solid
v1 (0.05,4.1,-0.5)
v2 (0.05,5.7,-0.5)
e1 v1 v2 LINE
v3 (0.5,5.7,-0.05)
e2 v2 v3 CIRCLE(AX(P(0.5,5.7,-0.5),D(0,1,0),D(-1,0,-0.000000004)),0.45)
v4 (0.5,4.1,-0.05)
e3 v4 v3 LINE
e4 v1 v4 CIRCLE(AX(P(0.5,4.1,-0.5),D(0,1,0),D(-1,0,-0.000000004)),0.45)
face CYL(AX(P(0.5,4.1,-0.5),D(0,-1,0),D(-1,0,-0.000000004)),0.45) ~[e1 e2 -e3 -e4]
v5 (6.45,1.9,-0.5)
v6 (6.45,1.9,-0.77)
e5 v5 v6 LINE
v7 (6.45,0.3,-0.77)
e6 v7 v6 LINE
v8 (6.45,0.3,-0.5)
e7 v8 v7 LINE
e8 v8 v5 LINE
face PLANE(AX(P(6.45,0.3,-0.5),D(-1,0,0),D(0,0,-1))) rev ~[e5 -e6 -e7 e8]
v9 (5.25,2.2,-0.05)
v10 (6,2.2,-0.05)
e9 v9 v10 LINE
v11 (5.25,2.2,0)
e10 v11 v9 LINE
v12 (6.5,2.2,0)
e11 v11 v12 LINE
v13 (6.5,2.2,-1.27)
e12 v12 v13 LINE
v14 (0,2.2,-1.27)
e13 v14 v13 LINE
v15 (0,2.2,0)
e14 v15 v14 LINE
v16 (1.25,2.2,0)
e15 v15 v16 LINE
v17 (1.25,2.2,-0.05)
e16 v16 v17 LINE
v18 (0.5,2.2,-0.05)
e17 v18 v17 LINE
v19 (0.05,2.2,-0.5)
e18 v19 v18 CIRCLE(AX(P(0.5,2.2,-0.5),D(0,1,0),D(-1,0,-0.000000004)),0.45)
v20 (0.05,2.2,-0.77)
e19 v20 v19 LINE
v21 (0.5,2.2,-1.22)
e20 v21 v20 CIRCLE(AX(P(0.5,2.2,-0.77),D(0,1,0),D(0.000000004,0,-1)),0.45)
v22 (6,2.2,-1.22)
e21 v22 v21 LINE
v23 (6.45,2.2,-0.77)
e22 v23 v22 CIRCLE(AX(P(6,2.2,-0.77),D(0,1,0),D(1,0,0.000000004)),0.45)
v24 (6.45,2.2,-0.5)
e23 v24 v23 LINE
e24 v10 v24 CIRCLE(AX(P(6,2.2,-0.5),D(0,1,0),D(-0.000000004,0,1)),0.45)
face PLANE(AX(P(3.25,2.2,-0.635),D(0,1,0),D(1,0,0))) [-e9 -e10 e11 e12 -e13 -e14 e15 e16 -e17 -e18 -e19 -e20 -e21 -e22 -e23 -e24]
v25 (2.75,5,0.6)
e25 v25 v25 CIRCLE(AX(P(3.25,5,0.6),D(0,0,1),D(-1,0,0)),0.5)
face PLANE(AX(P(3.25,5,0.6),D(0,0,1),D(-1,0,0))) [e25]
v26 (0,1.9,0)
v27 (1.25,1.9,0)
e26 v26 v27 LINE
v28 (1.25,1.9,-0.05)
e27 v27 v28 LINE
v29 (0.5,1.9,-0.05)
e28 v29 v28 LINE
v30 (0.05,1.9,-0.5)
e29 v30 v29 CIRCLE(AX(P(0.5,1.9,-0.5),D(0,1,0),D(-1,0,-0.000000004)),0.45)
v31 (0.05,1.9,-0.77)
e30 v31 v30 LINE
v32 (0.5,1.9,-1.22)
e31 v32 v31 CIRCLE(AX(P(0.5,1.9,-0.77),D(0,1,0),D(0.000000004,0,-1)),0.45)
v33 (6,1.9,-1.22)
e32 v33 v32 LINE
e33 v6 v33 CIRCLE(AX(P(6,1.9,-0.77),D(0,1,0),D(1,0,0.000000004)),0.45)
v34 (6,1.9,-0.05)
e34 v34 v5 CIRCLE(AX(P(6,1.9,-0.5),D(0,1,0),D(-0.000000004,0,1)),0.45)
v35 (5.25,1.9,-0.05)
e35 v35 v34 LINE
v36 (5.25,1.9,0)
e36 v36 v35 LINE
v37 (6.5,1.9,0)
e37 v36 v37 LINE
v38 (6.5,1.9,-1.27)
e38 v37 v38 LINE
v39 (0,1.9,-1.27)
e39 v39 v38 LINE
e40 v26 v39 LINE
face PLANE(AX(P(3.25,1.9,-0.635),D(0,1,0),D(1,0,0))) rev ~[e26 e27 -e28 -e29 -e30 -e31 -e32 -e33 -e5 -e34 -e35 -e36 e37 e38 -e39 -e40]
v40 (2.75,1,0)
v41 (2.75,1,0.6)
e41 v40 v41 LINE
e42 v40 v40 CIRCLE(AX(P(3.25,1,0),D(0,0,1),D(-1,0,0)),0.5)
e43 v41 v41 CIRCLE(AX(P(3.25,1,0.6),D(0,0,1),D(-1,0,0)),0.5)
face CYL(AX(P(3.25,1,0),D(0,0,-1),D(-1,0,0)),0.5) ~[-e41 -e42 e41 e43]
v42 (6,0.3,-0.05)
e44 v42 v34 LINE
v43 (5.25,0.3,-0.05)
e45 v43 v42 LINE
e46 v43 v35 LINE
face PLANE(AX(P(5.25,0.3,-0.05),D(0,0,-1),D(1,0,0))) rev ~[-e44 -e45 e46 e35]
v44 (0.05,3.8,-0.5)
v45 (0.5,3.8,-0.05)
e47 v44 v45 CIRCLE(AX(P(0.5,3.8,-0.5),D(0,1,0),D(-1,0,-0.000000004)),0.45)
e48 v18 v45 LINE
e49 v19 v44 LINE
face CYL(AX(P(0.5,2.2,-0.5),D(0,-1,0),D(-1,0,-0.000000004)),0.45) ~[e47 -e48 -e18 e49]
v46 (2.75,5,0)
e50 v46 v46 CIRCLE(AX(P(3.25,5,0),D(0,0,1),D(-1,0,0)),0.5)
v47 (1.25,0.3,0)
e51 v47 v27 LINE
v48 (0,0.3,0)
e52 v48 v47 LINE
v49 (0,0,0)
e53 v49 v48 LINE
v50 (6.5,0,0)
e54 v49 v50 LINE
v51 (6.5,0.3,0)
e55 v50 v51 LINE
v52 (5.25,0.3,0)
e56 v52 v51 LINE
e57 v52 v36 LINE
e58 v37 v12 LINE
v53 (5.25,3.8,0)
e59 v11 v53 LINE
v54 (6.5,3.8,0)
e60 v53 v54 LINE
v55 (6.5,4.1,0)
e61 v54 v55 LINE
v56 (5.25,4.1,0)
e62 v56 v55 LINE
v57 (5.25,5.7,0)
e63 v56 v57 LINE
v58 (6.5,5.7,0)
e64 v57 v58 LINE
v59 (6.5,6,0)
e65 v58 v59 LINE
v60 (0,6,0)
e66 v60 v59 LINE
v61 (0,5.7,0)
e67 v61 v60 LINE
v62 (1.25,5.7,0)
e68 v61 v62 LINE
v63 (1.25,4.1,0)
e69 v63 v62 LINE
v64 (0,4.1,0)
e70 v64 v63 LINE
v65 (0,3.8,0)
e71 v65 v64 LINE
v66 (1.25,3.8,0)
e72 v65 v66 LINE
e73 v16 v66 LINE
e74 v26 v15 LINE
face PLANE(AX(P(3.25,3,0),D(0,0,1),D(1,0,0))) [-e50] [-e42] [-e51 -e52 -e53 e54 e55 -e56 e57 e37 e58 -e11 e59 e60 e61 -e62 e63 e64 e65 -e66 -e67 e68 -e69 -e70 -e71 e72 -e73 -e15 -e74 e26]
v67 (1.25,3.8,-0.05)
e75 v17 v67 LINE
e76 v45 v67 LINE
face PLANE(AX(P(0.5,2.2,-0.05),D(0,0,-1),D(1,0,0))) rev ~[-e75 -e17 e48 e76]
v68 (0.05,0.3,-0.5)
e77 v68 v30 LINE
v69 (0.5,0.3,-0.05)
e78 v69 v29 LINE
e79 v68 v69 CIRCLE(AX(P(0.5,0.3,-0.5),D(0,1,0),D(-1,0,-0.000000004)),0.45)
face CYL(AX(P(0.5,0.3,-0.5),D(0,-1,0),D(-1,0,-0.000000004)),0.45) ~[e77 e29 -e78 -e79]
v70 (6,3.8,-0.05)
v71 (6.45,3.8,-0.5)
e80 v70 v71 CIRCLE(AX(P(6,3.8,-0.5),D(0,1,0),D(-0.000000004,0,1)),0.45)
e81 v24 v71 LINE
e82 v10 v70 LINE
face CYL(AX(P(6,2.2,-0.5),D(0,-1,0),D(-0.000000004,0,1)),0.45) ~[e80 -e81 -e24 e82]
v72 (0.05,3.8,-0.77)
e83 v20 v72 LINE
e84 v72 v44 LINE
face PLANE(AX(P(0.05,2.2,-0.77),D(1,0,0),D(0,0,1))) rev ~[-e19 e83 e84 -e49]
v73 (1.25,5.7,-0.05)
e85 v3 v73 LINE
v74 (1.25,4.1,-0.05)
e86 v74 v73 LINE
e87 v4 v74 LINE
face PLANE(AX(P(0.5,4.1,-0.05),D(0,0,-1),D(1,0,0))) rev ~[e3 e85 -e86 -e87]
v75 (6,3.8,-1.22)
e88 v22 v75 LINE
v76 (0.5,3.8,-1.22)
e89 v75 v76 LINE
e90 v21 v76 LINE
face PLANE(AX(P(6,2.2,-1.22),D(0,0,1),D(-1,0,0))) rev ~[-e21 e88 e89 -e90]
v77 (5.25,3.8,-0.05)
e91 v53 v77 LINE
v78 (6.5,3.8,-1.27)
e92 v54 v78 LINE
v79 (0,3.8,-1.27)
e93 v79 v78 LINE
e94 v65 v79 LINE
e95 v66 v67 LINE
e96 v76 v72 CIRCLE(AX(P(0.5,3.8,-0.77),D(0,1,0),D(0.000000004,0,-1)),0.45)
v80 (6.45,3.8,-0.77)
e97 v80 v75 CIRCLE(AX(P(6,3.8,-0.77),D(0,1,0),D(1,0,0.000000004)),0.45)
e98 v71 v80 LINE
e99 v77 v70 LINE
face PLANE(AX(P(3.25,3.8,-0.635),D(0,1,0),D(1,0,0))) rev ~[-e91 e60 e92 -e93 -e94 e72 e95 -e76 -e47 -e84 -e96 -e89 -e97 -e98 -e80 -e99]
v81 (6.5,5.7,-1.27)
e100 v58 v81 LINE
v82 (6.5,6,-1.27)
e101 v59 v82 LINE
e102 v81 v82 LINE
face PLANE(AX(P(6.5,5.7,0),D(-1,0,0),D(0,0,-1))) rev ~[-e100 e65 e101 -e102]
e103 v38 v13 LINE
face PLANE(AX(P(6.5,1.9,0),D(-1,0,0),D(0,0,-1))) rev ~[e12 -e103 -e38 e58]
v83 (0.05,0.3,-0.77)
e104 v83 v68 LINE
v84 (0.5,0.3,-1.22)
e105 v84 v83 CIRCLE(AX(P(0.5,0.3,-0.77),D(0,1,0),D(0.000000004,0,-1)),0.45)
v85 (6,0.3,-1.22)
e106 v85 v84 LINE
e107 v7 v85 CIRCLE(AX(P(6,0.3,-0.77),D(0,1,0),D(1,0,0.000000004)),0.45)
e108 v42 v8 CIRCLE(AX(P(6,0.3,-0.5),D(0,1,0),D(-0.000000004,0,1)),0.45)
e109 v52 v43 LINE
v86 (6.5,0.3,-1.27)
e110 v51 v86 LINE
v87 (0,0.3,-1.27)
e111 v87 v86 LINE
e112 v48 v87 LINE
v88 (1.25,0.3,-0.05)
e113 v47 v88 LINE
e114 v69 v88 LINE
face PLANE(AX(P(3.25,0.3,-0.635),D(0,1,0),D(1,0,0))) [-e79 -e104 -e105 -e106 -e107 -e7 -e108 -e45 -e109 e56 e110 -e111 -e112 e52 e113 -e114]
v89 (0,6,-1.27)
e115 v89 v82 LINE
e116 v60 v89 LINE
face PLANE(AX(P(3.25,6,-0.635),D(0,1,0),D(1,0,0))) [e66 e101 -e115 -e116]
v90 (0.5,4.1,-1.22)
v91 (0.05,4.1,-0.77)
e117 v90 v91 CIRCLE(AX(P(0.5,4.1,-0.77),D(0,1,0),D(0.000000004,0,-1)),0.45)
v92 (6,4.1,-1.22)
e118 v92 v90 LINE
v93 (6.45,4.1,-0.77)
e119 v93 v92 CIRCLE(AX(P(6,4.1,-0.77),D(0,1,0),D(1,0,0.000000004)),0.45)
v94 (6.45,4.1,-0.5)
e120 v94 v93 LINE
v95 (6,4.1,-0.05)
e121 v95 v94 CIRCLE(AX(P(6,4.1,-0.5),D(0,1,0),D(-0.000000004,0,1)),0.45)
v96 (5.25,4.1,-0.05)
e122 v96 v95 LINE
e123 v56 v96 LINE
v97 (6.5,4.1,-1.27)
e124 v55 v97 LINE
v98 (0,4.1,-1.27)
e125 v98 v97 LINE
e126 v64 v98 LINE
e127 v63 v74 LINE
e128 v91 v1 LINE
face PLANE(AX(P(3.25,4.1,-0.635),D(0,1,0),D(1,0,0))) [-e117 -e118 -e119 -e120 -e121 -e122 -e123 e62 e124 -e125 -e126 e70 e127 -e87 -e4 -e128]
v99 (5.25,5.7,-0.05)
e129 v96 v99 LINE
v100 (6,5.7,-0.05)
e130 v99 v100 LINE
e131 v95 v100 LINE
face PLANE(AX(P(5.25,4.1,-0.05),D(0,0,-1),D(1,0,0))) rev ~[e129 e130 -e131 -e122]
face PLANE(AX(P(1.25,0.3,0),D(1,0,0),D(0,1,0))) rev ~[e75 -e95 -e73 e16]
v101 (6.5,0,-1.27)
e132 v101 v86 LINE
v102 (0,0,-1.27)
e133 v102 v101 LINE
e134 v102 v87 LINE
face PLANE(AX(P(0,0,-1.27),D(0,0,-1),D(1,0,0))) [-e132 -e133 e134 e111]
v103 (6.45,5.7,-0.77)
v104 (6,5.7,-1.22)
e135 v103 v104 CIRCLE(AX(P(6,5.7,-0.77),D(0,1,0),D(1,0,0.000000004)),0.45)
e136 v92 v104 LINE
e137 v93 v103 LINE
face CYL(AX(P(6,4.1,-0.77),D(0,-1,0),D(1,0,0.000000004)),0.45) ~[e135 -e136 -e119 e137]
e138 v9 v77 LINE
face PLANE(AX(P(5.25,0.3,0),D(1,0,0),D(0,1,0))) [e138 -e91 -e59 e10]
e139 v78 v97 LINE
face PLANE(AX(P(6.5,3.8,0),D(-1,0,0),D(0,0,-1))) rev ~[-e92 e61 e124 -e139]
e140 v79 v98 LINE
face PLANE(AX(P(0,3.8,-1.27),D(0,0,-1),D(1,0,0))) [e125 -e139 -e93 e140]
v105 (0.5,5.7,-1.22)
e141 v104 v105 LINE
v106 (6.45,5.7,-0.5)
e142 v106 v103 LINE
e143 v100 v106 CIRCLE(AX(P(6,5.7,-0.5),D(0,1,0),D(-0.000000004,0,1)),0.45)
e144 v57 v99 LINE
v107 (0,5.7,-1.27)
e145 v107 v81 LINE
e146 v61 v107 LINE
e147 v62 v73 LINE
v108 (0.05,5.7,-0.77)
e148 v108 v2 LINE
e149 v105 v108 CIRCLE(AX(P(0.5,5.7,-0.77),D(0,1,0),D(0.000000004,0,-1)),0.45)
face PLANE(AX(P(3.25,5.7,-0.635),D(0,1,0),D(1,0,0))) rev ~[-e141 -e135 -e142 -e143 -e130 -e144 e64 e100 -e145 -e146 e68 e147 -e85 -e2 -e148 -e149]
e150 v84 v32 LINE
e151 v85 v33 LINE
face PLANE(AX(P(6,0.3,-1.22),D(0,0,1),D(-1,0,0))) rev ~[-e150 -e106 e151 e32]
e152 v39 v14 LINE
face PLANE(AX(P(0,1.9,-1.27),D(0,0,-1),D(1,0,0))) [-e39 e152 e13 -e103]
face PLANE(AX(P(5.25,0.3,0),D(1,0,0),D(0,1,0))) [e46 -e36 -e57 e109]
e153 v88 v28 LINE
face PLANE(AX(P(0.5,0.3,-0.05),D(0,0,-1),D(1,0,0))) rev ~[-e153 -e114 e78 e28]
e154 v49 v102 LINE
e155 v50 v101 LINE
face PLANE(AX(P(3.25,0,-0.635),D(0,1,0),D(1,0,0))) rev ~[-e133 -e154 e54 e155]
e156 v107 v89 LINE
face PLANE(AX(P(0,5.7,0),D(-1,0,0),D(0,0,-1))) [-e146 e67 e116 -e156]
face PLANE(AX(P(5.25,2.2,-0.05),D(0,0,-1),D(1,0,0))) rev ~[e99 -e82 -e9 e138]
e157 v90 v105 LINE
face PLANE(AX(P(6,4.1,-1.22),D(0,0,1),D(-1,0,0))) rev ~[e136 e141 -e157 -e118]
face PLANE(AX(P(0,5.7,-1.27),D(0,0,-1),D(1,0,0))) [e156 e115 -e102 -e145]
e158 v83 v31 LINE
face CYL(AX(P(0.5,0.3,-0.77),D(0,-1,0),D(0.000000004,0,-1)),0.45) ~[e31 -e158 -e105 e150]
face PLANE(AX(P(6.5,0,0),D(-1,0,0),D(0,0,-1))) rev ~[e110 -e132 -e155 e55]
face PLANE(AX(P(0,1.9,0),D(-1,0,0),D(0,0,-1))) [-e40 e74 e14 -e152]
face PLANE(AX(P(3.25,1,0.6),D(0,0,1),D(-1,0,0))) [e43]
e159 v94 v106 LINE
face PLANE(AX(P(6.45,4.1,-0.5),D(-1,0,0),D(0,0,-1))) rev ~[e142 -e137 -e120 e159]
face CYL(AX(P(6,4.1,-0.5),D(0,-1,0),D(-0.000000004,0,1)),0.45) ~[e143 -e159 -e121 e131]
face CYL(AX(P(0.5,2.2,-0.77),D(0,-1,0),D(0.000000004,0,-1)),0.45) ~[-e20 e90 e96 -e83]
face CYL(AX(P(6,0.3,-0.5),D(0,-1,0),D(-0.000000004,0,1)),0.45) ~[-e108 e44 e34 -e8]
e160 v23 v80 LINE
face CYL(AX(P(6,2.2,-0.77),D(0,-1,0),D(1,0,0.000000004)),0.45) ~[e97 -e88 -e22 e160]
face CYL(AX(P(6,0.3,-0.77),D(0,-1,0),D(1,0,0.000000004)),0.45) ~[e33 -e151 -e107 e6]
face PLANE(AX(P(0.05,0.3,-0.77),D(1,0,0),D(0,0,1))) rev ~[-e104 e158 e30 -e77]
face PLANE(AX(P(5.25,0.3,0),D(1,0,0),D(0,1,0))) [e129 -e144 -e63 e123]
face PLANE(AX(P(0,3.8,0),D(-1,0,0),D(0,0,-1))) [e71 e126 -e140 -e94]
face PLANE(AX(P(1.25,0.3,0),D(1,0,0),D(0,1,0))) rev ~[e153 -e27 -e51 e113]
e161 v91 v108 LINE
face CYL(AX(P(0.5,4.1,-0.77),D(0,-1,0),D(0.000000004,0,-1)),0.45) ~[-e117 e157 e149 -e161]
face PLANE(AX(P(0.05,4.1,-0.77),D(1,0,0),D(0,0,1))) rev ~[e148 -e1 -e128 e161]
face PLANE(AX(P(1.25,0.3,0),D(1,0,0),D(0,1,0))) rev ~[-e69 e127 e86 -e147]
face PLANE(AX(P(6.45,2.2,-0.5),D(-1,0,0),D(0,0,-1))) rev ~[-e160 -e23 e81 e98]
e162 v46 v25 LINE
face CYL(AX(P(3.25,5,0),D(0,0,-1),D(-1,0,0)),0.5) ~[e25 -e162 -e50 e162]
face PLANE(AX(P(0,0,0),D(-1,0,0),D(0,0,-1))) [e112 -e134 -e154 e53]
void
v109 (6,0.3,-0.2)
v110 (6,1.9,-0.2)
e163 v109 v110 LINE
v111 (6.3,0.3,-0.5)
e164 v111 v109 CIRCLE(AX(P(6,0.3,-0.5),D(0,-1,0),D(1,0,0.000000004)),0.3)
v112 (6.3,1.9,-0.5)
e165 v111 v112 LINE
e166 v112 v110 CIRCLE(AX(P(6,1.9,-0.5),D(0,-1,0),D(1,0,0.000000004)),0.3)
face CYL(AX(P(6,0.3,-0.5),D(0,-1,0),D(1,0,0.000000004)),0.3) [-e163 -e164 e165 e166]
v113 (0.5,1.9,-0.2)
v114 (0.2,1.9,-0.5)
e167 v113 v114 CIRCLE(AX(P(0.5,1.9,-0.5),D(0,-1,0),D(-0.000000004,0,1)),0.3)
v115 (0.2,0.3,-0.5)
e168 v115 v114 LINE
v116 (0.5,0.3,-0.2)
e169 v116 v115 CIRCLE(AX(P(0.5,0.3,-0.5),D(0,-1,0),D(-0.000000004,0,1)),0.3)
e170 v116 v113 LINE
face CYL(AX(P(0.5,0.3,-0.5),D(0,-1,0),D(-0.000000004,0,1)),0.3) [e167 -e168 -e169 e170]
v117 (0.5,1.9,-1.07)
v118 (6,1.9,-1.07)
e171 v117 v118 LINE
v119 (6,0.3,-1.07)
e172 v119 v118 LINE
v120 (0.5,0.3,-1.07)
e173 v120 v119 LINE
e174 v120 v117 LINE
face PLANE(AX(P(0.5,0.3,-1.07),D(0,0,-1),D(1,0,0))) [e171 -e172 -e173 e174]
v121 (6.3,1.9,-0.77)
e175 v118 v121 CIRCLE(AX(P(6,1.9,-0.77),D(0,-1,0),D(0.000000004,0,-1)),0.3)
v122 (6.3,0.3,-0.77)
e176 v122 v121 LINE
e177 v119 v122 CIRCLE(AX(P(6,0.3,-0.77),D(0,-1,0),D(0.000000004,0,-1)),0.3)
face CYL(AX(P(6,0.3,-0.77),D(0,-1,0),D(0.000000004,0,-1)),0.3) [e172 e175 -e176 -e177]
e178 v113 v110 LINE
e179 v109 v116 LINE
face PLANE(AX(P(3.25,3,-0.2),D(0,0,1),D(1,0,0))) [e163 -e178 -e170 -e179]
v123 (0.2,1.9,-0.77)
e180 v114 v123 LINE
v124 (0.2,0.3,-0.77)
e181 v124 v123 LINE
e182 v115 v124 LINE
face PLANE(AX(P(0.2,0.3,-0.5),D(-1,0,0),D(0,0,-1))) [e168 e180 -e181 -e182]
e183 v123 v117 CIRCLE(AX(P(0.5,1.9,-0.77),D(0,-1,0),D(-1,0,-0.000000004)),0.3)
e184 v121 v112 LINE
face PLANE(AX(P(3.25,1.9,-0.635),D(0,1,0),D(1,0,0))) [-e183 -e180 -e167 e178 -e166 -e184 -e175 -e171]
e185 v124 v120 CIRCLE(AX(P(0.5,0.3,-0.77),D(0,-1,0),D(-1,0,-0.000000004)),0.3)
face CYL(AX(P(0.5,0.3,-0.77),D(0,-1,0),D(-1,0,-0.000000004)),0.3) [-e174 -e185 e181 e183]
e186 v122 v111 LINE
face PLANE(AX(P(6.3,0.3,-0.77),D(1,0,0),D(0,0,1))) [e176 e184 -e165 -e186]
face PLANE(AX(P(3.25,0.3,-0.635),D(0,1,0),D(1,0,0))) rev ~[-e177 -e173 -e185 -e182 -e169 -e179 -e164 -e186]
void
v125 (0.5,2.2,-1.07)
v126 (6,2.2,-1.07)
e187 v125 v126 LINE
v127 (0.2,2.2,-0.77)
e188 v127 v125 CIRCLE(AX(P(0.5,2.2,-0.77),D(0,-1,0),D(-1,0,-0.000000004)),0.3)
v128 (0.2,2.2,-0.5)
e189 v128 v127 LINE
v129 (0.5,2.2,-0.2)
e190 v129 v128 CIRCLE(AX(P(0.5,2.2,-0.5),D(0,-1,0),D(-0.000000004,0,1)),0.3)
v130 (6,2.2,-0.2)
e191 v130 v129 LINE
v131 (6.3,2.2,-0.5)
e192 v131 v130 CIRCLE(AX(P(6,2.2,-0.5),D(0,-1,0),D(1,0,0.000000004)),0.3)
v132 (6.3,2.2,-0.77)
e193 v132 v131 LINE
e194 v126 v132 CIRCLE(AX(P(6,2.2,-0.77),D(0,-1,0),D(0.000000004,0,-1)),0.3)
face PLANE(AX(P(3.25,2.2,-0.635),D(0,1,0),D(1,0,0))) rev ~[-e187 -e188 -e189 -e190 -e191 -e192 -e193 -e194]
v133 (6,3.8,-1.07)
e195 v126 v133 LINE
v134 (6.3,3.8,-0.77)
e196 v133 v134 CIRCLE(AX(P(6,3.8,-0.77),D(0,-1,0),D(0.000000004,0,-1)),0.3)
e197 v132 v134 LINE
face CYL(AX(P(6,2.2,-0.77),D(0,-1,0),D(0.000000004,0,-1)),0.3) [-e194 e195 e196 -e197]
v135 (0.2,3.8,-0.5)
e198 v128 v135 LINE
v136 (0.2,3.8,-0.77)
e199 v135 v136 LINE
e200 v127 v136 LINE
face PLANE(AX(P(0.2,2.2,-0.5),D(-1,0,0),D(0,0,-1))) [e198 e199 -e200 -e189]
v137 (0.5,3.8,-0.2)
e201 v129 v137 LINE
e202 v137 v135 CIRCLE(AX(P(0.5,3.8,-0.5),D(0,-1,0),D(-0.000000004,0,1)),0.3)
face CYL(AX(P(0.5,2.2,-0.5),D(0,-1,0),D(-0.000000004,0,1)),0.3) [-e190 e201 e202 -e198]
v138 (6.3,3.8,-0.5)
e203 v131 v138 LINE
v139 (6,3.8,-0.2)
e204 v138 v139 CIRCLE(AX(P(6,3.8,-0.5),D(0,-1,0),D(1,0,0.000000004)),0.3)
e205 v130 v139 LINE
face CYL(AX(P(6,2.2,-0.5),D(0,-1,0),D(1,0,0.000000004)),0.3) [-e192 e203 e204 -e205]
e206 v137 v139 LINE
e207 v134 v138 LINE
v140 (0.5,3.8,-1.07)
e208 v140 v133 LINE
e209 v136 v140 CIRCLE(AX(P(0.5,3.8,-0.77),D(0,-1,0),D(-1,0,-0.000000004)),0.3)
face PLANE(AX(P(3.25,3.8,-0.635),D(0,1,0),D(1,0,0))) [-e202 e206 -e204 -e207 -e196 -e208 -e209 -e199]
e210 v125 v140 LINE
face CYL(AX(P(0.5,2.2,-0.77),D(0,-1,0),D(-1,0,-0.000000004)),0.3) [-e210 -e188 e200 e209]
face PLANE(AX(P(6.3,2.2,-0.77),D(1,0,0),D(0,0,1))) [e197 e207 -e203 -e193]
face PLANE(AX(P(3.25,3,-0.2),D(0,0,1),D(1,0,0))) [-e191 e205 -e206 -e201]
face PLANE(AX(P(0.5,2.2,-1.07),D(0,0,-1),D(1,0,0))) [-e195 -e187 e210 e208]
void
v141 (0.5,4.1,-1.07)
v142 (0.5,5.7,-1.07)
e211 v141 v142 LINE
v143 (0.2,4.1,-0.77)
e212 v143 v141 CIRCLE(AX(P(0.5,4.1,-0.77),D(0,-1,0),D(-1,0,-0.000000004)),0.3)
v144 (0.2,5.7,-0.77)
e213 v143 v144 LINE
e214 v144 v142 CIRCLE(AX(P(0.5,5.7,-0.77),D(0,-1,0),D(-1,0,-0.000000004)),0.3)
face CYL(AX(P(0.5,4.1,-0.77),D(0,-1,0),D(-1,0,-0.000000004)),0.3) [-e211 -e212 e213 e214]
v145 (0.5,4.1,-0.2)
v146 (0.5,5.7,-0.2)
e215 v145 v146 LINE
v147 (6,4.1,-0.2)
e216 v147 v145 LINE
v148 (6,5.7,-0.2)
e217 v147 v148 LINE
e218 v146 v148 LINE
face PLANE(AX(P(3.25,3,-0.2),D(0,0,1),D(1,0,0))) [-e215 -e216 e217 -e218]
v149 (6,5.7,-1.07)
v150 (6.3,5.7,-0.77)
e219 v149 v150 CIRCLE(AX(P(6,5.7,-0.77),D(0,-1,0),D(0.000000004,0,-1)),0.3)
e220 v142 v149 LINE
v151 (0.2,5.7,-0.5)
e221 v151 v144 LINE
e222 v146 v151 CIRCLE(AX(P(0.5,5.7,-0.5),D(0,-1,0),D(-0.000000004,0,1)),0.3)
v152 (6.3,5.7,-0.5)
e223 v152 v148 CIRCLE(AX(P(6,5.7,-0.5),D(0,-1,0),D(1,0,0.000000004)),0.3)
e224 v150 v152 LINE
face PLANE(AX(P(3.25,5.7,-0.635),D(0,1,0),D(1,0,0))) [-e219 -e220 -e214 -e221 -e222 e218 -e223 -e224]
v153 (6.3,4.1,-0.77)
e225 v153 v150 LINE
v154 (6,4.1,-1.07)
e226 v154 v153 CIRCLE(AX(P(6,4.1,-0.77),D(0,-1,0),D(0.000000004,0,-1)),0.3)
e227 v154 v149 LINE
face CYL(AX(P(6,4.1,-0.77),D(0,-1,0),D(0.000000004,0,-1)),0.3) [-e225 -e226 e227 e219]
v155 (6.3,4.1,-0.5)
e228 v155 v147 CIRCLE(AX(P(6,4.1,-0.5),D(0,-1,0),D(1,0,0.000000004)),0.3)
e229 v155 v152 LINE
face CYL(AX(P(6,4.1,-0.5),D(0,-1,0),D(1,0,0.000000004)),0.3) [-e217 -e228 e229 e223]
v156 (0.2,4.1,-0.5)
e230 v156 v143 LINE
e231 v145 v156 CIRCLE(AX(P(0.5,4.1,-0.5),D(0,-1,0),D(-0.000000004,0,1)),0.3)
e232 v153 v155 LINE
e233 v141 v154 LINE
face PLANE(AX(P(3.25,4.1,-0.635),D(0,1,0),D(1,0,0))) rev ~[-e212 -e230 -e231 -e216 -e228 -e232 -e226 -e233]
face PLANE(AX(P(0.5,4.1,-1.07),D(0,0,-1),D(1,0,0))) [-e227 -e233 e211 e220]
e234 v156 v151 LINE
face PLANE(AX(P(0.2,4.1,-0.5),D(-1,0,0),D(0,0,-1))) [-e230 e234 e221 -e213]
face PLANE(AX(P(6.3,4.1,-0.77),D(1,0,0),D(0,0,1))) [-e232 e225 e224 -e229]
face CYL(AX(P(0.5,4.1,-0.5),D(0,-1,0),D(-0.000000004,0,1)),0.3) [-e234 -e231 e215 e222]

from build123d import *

# Parameters (mm, degrees)
SKETCH1_W           = 6.5
SKETCH1_H           = 1.27
BOSS_EXTRUDE1_DEPTH = 0.3
BOSS_EXTRUDE2_DEPTH = 1.6
BOSS_EXTRUDE3_START = 1.9
SKETCH1_2_W         = 6.5
SKETCH1_2_H         = 1.27
BOSS_EXTRUDE3_DEPTH = 0.3
BOSS_EXTRUDE4_START = 1.9
BOSS_EXTRUDE4_DEPTH = 1.6
BOSS_EXTRUDE5_START = 3.8
SKETCH1_3_W         = 6.5
SKETCH1_3_H         = 1.27
BOSS_EXTRUDE5_DEPTH = 0.3
BOSS_EXTRUDE6_START = 3.8
BOSS_EXTRUDE6_DEPTH = 1.6
BOSS_EXTRUDE7_START = 5.7
SKETCH1_4_W         = 6.5
SKETCH1_4_H         = 1.27
BOSS_EXTRUDE7_DEPTH = 0.3
SKETCH3_W           = 4
SKETCH3_H           = 5.4
BOSS_EXTRUDE8_DEPTH = 0.2
SKETCH4_R           = 0.5
BOSS_EXTRUDE9_DEPTH = 0.6


with BuildPart() as part:
    # Sketch1 → Boss-Extrude1 (new body)
    with BuildSketch(Plane(origin=(0, 0, 0), x_dir=(1, 0, 0), z_dir=(0, 1, 0))):
        with Locations((3.25, 0.635)):
            Rectangle(SKETCH1_W, SKETCH1_H)
    extrude(amount=BOSS_EXTRUDE1_DEPTH)

    # Sketch2 → Boss-Extrude2 (add)
    with BuildSketch(Plane(origin=(0, 0.3, 0), x_dir=(1, 0, 0), z_dir=(0, 1, 0))):
        with BuildLine():
            Line((1.25, 0.2), (0.5, 0.2))
            ThreePointArc((0.5, 0.2), (0.287867966, 0.287867966), (0.2, 0.5))
            Line((0.2, 0.5), (0.2, 0.77))
            ThreePointArc((0.2, 0.77), (0.287867966, 0.982132034), (0.5, 1.07))
            Line((0.5, 1.07), (6, 1.07))
            ThreePointArc((6, 1.07), (6.212132034, 0.982132034), (6.3, 0.77))
            Line((6.3, 0.77), (6.3, 0.5))
            ThreePointArc((6.3, 0.5), (6.212132034, 0.287867966), (6, 0.2))
            Line((6, 0.2), (5.25, 0.2))
            Line((5.25, 0.2), (5.25, 0.05))
            Line((5.25, 0.05), (6, 0.05))
            ThreePointArc((6, 0.05), (6.318198052, 0.181801948), (6.45, 0.5))
            Line((6.45, 0.5), (6.45, 0.77))
            ThreePointArc((6.45, 0.77), (6.318198052, 1.088198052), (6, 1.22))
            Line((6, 1.22), (0.5, 1.22))
            ThreePointArc((0.5, 1.22), (0.181801948, 1.088198052), (0.05, 0.77))
            Line((0.05, 0.77), (0.05, 0.5))
            ThreePointArc((0.05, 0.5), (0.181801948, 0.181801948), (0.5, 0.05))
            Line((0.5, 0.05), (1.25, 0.05))
            Line((1.25, 0.05), (1.25, 0.2))
        make_face()
    extrude(amount=BOSS_EXTRUDE2_DEPTH)

    # Sketch1<2> → Boss-Extrude3 (add)
    with BuildSketch(Plane(origin=(0, 0, 0), x_dir=(1, 0, 0), z_dir=(0, 1, 0)).offset(BOSS_EXTRUDE3_START)):
        with Locations((3.25, 0.635)):
            Rectangle(SKETCH1_2_W, SKETCH1_2_H)
    extrude(amount=BOSS_EXTRUDE3_DEPTH)

    # Sketch2<3> → Boss-Extrude4 (add)
    with BuildSketch(Plane(origin=(0, 0.3, 0), x_dir=(1, 0, 0), z_dir=(0, 1, 0)).offset(BOSS_EXTRUDE4_START)):
        with BuildLine():
            Line((1.25, 0.2), (0.5, 0.2))
            ThreePointArc((0.5, 0.2), (0.287867966, 0.287867966), (0.2, 0.5))
            Line((0.2, 0.5), (0.2, 0.77))
            ThreePointArc((0.2, 0.77), (0.287867966, 0.982132034), (0.5, 1.07))
            Line((0.5, 1.07), (6, 1.07))
            ThreePointArc((6, 1.07), (6.212132034, 0.982132034), (6.3, 0.77))
            Line((6.3, 0.77), (6.3, 0.5))
            ThreePointArc((6.3, 0.5), (6.212132034, 0.287867966), (6, 0.2))
            Line((6, 0.2), (5.25, 0.2))
            Line((5.25, 0.2), (5.25, 0.05))
            Line((5.25, 0.05), (6, 0.05))
            ThreePointArc((6, 0.05), (6.318198052, 0.181801948), (6.45, 0.5))
            Line((6.45, 0.5), (6.45, 0.77))
            ThreePointArc((6.45, 0.77), (6.318198052, 1.088198052), (6, 1.22))
            Line((6, 1.22), (0.5, 1.22))
            ThreePointArc((0.5, 1.22), (0.181801948, 1.088198052), (0.05, 0.77))
            Line((0.05, 0.77), (0.05, 0.5))
            ThreePointArc((0.05, 0.5), (0.181801948, 0.181801948), (0.5, 0.05))
            Line((0.5, 0.05), (1.25, 0.05))
            Line((1.25, 0.05), (1.25, 0.2))
        make_face()
    extrude(amount=BOSS_EXTRUDE4_DEPTH)

    # Sketch1<3> → Boss-Extrude5 (add)
    with BuildSketch(Plane(origin=(0, 0, 0), x_dir=(1, 0, 0), z_dir=(0, 1, 0)).offset(BOSS_EXTRUDE5_START)):
        with Locations((3.25, 0.635)):
            Rectangle(SKETCH1_3_W, SKETCH1_3_H)
    extrude(amount=BOSS_EXTRUDE5_DEPTH)

    # Sketch2<4> → Boss-Extrude6 (add)
    with BuildSketch(Plane(origin=(0, 0.3, 0), x_dir=(1, 0, 0), z_dir=(0, 1, 0)).offset(BOSS_EXTRUDE6_START)):
        with BuildLine():
            Line((1.25, 0.2), (0.5, 0.2))
            ThreePointArc((0.5, 0.2), (0.287867966, 0.287867966), (0.2, 0.5))
            Line((0.2, 0.5), (0.2, 0.77))
            ThreePointArc((0.2, 0.77), (0.287867966, 0.982132034), (0.5, 1.07))
            Line((0.5, 1.07), (6, 1.07))
            ThreePointArc((6, 1.07), (6.212132034, 0.982132034), (6.3, 0.77))
            Line((6.3, 0.77), (6.3, 0.5))
            ThreePointArc((6.3, 0.5), (6.212132034, 0.287867966), (6, 0.2))
            Line((6, 0.2), (5.25, 0.2))
            Line((5.25, 0.2), (5.25, 0.05))
            Line((5.25, 0.05), (6, 0.05))
            ThreePointArc((6, 0.05), (6.318198052, 0.181801948), (6.45, 0.5))
            Line((6.45, 0.5), (6.45, 0.77))
            ThreePointArc((6.45, 0.77), (6.318198052, 1.088198052), (6, 1.22))
            Line((6, 1.22), (0.5, 1.22))
            ThreePointArc((0.5, 1.22), (0.181801948, 1.088198052), (0.05, 0.77))
            Line((0.05, 0.77), (0.05, 0.5))
            ThreePointArc((0.05, 0.5), (0.181801948, 0.181801948), (0.5, 0.05))
            Line((0.5, 0.05), (1.25, 0.05))
            Line((1.25, 0.05), (1.25, 0.2))
        make_face()
    extrude(amount=BOSS_EXTRUDE6_DEPTH)

    # Sketch1<4> → Boss-Extrude7 (add)
    with BuildSketch(Plane(origin=(0, 0, 0), x_dir=(1, 0, 0), z_dir=(0, 1, 0)).offset(BOSS_EXTRUDE7_START)):
        with Locations((3.25, 0.635)):
            Rectangle(SKETCH1_4_W, SKETCH1_4_H)
    extrude(amount=BOSS_EXTRUDE7_DEPTH)

    # Sketch3 → Boss-Extrude8 (add)
    with BuildSketch(Plane.XY):
        with Locations((3.25, 3)):
            Rectangle(SKETCH3_W, SKETCH3_H)
    extrude(amount=-BOSS_EXTRUDE8_DEPTH)

    # Sketch4 → Boss-Extrude9 (add)
    with BuildSketch(Plane.XY):
        with Locations(Location((3.25, 5, 0), (0, 0, 180))):
            Circle(SKETCH4_R)
        with Locations(Location((3.25, 1, 0), (0, 0, 180))):
            Circle(SKETCH4_R)
    extrude(amount=BOSS_EXTRUDE9_DEPTH)


solid = part.part
